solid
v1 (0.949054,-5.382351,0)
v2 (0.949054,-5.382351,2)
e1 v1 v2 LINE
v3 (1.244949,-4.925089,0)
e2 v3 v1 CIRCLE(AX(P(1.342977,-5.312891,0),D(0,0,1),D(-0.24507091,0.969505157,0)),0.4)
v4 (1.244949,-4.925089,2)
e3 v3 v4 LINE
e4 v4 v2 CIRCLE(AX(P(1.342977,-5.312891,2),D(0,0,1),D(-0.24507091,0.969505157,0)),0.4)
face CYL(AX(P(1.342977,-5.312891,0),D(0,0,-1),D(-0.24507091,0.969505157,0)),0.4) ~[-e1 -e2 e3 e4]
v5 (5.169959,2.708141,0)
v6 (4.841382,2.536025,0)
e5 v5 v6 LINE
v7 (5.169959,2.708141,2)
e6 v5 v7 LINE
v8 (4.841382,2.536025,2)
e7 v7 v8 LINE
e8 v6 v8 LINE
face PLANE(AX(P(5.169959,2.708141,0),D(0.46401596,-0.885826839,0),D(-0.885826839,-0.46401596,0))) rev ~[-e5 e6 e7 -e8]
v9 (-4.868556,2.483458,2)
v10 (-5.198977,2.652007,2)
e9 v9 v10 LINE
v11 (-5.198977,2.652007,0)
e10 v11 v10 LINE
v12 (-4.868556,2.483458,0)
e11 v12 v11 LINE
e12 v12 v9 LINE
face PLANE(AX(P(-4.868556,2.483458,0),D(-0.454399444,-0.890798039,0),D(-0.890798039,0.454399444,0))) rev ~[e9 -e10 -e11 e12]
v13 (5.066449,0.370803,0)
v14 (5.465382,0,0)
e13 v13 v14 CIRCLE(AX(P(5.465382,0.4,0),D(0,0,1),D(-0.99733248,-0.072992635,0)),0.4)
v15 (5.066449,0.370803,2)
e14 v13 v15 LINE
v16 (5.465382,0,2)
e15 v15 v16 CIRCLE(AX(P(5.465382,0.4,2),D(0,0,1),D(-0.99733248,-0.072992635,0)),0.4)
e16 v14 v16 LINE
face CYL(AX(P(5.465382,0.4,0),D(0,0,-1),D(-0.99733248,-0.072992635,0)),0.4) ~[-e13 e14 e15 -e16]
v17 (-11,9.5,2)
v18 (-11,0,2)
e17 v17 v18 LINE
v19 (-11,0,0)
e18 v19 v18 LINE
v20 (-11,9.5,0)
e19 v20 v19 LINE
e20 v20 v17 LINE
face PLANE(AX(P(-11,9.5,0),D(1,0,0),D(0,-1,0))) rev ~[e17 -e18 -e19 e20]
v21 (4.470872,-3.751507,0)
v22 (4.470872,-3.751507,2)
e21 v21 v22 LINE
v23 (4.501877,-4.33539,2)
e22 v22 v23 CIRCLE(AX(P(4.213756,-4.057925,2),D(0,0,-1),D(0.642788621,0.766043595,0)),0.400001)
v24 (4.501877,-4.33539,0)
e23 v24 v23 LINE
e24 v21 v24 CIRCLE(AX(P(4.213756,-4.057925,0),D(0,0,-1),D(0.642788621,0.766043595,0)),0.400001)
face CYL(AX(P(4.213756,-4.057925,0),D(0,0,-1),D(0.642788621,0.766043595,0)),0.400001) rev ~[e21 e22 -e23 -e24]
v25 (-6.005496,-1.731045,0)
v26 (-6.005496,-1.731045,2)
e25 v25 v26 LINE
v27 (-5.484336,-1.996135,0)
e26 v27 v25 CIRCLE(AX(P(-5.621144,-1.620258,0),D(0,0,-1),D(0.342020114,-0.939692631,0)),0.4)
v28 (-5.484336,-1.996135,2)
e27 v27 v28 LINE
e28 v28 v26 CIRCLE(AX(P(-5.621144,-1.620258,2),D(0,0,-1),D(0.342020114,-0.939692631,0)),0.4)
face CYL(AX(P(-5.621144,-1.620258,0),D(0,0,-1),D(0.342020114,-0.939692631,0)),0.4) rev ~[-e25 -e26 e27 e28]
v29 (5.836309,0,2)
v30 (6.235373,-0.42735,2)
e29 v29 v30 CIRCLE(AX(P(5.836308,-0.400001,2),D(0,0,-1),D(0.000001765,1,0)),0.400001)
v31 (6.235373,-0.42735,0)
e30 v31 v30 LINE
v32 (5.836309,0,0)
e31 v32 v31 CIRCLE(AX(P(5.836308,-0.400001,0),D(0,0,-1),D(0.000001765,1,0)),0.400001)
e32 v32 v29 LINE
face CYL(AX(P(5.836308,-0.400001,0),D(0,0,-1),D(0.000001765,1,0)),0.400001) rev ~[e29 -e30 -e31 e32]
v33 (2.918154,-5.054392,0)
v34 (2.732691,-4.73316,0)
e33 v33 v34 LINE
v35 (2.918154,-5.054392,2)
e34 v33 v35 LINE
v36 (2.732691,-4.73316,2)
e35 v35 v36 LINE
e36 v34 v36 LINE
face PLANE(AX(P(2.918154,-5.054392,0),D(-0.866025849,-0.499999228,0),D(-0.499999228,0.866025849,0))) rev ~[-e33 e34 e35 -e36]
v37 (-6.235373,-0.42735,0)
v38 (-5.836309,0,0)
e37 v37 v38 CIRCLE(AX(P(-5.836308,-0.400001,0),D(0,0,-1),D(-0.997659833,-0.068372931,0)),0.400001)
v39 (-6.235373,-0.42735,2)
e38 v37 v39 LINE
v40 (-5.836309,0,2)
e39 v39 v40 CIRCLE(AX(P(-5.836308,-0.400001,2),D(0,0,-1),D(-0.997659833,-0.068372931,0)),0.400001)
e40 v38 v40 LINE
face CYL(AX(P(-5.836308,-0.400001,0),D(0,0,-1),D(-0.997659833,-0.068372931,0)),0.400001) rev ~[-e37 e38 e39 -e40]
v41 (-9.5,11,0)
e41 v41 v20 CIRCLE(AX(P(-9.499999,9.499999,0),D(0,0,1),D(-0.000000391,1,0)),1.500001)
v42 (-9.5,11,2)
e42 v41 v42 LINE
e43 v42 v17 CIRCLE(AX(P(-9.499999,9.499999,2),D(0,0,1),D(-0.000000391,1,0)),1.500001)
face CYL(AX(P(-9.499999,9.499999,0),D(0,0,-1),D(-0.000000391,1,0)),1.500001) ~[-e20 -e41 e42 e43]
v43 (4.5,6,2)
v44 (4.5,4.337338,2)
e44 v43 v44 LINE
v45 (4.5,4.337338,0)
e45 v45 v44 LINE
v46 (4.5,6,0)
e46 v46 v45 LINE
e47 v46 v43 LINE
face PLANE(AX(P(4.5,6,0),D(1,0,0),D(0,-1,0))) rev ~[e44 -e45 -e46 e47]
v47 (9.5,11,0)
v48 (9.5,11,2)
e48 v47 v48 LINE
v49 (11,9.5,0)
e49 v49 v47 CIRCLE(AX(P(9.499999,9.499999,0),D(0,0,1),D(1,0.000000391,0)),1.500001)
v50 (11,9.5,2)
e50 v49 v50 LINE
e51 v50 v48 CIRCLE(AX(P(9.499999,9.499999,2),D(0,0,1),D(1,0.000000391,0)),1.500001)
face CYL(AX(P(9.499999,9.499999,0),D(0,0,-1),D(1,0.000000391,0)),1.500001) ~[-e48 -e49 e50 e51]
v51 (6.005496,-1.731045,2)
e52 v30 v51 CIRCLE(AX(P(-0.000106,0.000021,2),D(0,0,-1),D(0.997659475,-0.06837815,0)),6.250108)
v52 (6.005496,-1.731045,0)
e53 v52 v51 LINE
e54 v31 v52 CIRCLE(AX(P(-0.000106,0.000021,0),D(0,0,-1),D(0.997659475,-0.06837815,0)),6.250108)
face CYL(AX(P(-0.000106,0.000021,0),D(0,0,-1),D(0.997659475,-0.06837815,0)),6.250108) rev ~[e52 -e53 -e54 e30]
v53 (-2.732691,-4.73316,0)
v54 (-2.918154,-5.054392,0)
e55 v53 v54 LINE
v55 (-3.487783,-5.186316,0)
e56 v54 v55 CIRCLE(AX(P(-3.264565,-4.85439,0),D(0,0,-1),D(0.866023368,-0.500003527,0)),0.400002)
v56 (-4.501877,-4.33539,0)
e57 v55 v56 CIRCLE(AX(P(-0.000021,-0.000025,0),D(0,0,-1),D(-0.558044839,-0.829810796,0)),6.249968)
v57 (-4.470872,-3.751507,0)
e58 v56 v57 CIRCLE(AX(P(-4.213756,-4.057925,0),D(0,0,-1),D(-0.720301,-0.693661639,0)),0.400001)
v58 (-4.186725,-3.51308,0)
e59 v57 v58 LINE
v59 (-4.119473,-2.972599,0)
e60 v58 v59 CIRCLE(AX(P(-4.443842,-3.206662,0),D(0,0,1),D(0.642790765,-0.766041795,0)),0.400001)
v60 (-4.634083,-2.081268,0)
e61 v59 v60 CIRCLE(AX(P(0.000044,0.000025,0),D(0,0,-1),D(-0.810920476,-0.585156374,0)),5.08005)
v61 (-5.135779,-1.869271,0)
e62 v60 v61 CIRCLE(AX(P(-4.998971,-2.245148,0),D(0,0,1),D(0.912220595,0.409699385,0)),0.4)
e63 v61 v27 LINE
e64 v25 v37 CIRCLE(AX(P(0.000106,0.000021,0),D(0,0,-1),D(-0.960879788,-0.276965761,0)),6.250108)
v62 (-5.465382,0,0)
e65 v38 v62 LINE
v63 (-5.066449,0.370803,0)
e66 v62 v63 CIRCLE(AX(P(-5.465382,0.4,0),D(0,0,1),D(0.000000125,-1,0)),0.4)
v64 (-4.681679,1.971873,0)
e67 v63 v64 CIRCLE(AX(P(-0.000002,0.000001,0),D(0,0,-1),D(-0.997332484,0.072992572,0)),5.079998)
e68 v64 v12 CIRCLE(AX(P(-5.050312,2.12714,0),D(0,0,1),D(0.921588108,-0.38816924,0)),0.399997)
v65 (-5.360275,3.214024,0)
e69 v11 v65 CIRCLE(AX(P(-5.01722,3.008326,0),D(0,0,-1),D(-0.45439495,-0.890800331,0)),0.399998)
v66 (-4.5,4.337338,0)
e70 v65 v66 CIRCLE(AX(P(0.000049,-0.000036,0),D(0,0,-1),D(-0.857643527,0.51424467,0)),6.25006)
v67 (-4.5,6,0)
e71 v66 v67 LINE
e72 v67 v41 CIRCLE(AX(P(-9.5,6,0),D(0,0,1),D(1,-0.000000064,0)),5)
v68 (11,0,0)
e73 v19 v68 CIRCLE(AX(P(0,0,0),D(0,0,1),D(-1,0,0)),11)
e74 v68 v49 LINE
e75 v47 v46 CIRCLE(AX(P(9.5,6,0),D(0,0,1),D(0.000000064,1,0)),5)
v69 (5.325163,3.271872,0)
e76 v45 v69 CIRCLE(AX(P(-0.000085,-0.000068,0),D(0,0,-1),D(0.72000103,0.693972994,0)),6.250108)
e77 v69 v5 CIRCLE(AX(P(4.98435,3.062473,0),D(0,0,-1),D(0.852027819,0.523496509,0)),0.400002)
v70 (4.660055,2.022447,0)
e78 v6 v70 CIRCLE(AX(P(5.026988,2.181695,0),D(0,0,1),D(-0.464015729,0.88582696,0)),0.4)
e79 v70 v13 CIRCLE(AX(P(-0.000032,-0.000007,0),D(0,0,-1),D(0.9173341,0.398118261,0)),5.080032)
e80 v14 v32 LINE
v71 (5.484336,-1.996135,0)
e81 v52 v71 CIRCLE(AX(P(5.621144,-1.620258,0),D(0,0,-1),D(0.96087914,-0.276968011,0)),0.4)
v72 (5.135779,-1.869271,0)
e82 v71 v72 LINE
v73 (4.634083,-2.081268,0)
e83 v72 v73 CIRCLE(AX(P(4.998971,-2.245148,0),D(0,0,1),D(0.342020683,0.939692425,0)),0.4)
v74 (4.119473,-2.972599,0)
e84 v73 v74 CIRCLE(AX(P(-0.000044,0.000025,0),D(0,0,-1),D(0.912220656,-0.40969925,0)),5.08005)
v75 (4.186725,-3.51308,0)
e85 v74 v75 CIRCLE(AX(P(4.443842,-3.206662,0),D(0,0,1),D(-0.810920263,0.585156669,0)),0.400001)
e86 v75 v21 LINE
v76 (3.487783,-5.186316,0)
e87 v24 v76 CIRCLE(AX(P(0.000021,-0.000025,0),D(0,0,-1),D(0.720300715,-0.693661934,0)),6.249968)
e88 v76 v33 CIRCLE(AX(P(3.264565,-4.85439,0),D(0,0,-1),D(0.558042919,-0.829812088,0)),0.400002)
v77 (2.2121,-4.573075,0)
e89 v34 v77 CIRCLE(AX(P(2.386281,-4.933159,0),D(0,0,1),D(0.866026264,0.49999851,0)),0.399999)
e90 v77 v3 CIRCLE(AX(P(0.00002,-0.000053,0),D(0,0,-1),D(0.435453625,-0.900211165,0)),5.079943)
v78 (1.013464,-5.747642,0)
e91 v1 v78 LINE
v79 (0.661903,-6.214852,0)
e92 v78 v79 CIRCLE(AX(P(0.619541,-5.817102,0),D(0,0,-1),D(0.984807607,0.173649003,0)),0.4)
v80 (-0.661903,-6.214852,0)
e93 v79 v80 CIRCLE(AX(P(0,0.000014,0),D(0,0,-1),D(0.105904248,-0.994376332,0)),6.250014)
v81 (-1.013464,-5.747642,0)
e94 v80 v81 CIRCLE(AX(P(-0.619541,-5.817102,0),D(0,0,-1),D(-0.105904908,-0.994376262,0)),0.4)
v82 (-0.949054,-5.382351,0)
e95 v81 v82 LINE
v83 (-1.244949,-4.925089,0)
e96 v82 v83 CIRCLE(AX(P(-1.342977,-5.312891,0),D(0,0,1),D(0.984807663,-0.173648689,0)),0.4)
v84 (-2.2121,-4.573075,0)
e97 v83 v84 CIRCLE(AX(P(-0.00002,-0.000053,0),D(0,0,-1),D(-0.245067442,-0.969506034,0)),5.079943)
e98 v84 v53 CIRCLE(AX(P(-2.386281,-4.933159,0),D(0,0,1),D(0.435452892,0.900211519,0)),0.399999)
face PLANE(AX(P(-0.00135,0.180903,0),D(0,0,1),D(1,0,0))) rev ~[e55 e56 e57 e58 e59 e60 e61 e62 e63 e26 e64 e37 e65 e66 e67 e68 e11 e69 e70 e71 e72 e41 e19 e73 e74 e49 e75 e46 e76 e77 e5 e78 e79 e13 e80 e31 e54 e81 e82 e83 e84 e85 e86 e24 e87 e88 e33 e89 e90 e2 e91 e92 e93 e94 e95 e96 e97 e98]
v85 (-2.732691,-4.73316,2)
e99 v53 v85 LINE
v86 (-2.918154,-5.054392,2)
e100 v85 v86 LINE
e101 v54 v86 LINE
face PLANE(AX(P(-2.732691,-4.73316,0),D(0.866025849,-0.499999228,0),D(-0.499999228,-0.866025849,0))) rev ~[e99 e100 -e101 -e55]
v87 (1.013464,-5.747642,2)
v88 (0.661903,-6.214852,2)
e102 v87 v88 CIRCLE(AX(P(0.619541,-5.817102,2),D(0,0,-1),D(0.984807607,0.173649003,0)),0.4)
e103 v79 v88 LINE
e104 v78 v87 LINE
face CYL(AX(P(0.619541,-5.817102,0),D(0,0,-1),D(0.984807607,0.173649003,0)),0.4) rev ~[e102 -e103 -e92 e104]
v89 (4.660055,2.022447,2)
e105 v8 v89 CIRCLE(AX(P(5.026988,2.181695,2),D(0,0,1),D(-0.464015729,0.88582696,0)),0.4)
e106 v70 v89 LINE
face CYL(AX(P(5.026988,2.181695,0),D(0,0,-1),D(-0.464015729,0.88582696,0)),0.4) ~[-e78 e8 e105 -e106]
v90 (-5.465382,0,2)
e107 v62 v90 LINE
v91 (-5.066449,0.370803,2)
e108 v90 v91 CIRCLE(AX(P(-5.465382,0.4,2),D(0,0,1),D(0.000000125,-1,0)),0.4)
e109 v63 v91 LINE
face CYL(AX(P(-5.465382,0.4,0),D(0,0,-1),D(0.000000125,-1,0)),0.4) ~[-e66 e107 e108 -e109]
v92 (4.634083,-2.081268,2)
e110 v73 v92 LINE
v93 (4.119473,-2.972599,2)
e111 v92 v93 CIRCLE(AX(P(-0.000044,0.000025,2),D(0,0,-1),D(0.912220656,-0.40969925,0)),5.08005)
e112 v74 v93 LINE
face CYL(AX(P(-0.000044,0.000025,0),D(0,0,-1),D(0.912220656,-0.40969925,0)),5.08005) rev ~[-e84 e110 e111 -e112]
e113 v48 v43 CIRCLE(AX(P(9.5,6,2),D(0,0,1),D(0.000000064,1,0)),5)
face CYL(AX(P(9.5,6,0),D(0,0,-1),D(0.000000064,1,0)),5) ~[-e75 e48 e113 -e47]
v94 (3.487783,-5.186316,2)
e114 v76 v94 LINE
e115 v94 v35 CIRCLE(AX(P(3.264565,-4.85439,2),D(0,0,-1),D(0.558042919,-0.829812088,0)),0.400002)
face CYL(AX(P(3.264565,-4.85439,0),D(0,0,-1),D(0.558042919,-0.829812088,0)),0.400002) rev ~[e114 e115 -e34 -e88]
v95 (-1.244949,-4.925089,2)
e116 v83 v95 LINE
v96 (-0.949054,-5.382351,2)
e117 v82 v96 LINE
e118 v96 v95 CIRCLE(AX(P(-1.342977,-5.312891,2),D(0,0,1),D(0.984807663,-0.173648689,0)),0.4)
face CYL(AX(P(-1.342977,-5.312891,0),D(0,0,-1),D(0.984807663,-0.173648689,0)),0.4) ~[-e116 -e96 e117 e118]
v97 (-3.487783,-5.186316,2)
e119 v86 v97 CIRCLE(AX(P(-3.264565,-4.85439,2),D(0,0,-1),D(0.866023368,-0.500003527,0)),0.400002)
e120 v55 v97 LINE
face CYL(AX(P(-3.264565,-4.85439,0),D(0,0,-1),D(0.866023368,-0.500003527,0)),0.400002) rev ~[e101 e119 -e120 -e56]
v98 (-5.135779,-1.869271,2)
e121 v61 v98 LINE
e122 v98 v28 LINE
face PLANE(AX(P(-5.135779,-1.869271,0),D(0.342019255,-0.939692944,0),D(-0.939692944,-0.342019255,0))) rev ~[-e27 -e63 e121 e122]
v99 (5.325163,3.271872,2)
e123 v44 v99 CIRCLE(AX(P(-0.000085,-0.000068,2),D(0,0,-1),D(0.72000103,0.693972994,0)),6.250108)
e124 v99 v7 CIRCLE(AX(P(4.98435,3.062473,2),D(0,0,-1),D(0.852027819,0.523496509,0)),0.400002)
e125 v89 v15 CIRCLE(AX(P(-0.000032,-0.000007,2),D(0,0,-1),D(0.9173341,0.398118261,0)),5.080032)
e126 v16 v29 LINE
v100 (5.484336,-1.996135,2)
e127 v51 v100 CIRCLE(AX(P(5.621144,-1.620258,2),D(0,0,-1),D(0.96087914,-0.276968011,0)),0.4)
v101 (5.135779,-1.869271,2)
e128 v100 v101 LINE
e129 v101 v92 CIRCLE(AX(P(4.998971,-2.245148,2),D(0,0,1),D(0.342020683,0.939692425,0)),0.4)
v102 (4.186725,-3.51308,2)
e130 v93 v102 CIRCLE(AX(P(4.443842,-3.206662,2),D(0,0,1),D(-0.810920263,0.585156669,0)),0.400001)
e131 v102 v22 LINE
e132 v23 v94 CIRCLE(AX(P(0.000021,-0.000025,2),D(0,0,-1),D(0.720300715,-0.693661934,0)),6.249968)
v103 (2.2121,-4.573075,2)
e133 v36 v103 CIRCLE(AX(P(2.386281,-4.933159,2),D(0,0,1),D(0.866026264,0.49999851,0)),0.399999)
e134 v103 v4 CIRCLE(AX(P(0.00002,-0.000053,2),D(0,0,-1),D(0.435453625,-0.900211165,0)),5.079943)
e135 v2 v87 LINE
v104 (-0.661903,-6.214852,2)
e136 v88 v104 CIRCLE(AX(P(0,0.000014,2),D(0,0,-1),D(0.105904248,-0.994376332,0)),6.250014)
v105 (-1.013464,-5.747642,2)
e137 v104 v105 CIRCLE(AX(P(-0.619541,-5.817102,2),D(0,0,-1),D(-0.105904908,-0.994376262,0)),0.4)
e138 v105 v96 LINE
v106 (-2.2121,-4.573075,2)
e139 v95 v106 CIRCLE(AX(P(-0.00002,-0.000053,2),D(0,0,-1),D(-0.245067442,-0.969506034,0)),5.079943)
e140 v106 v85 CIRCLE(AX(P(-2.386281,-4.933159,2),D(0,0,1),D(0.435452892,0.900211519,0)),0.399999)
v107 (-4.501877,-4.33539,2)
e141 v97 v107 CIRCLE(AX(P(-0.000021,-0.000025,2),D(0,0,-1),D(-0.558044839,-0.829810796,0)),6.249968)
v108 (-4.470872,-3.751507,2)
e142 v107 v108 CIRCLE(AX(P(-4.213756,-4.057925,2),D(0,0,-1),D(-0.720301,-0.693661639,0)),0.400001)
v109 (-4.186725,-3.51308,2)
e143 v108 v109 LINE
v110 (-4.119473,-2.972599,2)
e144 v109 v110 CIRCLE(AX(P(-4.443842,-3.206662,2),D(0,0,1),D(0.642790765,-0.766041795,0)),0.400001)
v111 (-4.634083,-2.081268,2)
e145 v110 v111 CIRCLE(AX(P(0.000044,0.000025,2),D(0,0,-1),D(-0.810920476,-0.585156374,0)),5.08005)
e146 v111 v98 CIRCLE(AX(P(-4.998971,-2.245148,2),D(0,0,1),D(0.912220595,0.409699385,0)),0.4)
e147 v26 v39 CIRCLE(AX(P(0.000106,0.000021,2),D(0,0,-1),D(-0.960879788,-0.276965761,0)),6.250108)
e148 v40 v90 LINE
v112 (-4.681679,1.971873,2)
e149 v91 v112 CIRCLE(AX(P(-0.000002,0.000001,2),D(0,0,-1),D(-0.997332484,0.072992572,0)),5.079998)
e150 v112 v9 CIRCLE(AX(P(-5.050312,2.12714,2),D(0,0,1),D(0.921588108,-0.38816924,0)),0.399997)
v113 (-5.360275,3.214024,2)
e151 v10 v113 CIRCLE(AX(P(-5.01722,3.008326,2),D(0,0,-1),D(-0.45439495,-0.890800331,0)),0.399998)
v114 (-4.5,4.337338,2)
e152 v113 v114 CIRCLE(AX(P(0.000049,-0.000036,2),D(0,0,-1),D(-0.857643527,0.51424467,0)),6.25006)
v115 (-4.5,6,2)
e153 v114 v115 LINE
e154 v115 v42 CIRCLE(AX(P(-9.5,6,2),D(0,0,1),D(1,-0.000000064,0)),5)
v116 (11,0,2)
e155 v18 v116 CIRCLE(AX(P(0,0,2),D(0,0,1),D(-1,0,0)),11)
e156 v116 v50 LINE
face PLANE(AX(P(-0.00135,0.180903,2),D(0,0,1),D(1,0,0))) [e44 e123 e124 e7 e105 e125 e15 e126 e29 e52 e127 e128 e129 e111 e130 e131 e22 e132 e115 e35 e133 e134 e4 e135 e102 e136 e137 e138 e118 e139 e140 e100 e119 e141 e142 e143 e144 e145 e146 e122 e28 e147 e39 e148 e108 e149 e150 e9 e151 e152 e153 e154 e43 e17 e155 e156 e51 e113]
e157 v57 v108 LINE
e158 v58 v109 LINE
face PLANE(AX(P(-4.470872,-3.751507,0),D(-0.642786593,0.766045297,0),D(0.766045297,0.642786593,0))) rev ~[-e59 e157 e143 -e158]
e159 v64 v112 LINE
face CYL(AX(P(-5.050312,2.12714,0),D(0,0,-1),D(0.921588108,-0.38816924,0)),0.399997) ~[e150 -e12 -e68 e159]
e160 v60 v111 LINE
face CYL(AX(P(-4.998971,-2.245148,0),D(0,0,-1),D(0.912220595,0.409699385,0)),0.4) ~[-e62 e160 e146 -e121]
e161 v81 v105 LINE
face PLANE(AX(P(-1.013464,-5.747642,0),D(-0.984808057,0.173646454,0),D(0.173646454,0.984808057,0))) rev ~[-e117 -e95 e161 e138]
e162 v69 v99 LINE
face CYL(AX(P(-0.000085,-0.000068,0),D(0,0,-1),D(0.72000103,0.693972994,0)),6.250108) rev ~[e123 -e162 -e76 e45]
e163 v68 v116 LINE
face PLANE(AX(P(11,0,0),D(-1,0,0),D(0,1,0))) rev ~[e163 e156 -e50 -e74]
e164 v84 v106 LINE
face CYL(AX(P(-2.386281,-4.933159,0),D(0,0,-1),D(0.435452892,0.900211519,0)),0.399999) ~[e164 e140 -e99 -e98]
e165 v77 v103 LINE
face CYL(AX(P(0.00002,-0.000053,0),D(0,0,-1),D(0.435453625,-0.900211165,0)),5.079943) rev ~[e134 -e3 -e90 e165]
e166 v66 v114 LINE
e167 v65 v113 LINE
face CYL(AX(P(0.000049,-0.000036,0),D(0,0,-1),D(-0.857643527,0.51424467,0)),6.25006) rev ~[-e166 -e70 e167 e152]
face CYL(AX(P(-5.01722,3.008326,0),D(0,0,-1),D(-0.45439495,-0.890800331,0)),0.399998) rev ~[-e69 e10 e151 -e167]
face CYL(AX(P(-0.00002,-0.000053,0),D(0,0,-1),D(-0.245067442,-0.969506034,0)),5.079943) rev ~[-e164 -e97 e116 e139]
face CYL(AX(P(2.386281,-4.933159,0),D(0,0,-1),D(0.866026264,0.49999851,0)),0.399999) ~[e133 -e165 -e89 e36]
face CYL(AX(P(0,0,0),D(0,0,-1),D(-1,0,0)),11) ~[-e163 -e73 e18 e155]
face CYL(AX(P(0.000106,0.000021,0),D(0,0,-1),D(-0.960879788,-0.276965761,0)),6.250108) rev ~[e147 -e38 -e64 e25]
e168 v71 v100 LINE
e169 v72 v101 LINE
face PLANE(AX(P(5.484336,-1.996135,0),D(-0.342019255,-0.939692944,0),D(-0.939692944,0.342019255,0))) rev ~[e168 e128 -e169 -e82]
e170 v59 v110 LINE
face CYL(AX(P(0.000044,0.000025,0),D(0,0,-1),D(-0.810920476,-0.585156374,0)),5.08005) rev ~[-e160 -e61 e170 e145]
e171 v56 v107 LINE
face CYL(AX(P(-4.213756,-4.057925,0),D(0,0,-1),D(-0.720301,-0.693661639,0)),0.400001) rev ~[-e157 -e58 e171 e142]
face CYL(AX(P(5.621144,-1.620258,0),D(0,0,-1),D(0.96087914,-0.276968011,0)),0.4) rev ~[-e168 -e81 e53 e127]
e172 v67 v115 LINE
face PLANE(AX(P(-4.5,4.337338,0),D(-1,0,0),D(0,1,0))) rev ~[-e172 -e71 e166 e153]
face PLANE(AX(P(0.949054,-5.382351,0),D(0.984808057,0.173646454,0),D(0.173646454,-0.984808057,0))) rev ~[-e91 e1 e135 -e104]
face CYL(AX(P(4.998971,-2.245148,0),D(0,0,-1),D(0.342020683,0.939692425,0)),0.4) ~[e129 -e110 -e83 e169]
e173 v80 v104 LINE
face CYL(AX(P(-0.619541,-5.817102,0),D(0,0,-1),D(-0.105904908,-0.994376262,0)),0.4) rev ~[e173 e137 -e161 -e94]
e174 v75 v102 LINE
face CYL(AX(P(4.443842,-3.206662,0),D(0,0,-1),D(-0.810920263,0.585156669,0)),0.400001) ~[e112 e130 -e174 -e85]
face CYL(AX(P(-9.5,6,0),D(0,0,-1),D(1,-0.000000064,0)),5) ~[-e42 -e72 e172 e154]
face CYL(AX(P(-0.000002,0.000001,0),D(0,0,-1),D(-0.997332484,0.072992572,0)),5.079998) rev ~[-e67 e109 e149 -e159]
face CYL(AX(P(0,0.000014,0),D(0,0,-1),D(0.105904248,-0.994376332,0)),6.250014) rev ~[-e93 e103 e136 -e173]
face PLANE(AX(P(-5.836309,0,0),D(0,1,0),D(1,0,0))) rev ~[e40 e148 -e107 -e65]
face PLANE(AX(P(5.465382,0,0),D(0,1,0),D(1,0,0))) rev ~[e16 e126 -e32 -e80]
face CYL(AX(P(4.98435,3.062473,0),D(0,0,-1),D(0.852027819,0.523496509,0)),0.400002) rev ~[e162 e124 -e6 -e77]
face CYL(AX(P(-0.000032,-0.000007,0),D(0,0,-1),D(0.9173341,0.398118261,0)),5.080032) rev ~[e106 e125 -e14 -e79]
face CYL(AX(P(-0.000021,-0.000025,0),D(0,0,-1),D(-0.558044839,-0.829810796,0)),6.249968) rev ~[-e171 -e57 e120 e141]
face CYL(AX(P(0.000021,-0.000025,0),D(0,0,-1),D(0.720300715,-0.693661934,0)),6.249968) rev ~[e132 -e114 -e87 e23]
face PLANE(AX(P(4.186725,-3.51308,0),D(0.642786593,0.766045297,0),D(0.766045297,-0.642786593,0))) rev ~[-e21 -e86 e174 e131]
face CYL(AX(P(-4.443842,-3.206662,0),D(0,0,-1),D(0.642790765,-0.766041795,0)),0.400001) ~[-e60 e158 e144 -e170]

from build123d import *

# Parameters (mm, degrees)
F1_DEPTH = 2


with BuildPart() as f1:
    # F0 (on Top) → F1 (new body)
    with BuildSketch(Plane.XY):
        with BuildLine():
            ThreePointArc((-5.066449, 0.370803), (-4.939368, 1.187032), (-4.681679, 1.971873))
            ThreePointArc((-4.681679, 1.971873), (-4.674597, 2.264385), (-4.868556, 2.483458))
            Line((-4.868556, 2.483458), (-5.198977, 2.652007))
            ThreePointArc((-5.198977, 2.652007), (-5.401697, 2.897981), (-5.360275, 3.214024))
            ThreePointArc((-5.360275, 3.214024), (-4.962027, 3.800103), (-4.5, 4.337338))
            Line((-4.5, 4.337338), (-4.5, 6))
            ThreePointArc((-4.5, 6), (-5.964466, 9.535534), (-9.5, 11))
            ThreePointArc((-9.5, 11), (-10.56066, 10.56066), (-11, 9.5))
            Line((-11, 9.5), (-11, 0))
            ThreePointArc((-11, 0), (0, -11), (11, 0))
            Line((11, 0), (11, 9.5))
            ThreePointArc((11, 9.5), (10.56066, 10.56066), (9.5, 11))
            ThreePointArc((9.5, 11), (5.964466, 9.535534), (4.5, 6))
            Line((4.5, 6), (4.5, 4.337338))
            ThreePointArc((4.5, 4.337338), (4.941382, 3.82691), (5.325163, 3.271872))
            ThreePointArc((5.325163, 3.271872), (5.370003, 2.956296), (5.169959, 2.708141))
            Line((5.169959, 2.708141), (4.841382, 2.536025))
            ThreePointArc((4.841382, 2.536025), (4.649807, 2.314864), (4.660055, 2.022447))
            ThreePointArc((4.660055, 2.022447), (4.932869, 1.213755), (5.066449, 0.370803))
            ThreePointArc((5.066449, 0.370803), (5.193058, 0.107016), (5.465382, 0))
            Line((5.465382, 0), (5.836309, 0))
            ThreePointArc((5.836309, 0), (6.128661, -0.126998), (6.235373, -0.42735))
            ThreePointArc((6.235373, -0.42735), (6.155048, -1.085301), (6.005496, -1.731045))
            ThreePointArc((6.005496, -1.731045), (5.802494, -1.976786), (5.484336, -1.996135))
            Line((5.484336, -1.996135), (5.135779, -1.869271))
            ThreePointArc((5.135779, -1.869271), (4.843276, -1.876693), (4.634083, -2.081268))
            ThreePointArc((4.634083, -2.081268), (4.399409, -2.54), (4.119473, -2.972599))
            ThreePointArc((4.119473, -2.972599), (4.046902, -3.256054), (4.186725, -3.51308))
            Line((4.186725, -3.51308), (4.470872, -3.751507))
            ThreePointArc((4.470872, -3.751507), (4.613194, -4.036714), (4.501877, -4.33539))
            ThreePointArc((4.501877, -4.33539), (4.017423, -4.787778), (3.487783, -5.186316))
            ThreePointArc((3.487783, -5.186316), (3.174314, -5.244077), (2.918154, -5.054392))
            Line((2.918154, -5.054392), (2.732691, -4.73316))
            ThreePointArc((2.732691, -4.73316), (2.50385, -4.550828), (2.2121, -4.573075))
            ThreePointArc((2.2121, -4.573075), (1.737462, -4.773639), (1.244949, -4.925089))
            ThreePointArc((1.244949, -4.925089), (1.007156, -5.09558), (0.949054, -5.382351))
            Line((0.949054, -5.382351), (1.013464, -5.747642))
            ThreePointArc((1.013464, -5.747642), (0.939162, -6.057606), (0.661903, -6.214852))
            ThreePointArc((0.661903, -6.214852), (0, -6.25), (-0.661903, -6.214852))
            ThreePointArc((-0.661903, -6.214852), (-0.939162, -6.057606), (-1.013464, -5.747642))
            Line((-1.013464, -5.747642), (-0.949054, -5.382351))
            ThreePointArc((-0.949054, -5.382351), (-1.007156, -5.09558), (-1.244949, -4.925089))
            ThreePointArc((-1.244949, -4.925089), (-1.737462, -4.773639), (-2.2121, -4.573075))
            ThreePointArc((-2.2121, -4.573075), (-2.50385, -4.550828), (-2.732691, -4.73316))
            Line((-2.732691, -4.73316), (-2.918154, -5.054392))
            ThreePointArc((-2.918154, -5.054392), (-3.174314, -5.244077), (-3.487783, -5.186316))
            ThreePointArc((-3.487783, -5.186316), (-4.017423, -4.787778), (-4.501877, -4.33539))
            ThreePointArc((-4.501877, -4.33539), (-4.613194, -4.036714), (-4.470872, -3.751507))
            Line((-4.470872, -3.751507), (-4.186725, -3.51308))
            ThreePointArc((-4.186725, -3.51308), (-4.046902, -3.256054), (-4.119473, -2.972599))
            ThreePointArc((-4.119473, -2.972599), (-4.399409, -2.54), (-4.634083, -2.081268))
            ThreePointArc((-4.634083, -2.081268), (-4.843276, -1.876693), (-5.135779, -1.869271))
            Line((-5.135779, -1.869271), (-5.484336, -1.996135))
            ThreePointArc((-5.484336, -1.996135), (-5.802494, -1.976786), (-6.005496, -1.731045))
            ThreePointArc((-6.005496, -1.731045), (-6.155048, -1.085301), (-6.235373, -0.42735))
            ThreePointArc((-6.235373, -0.42735), (-6.128661, -0.126998), (-5.836309, 0))
            Line((-5.836309, 0), (-5.465382, 0))
            ThreePointArc((-5.465382, 0), (-5.193058, 0.107016), (-5.066449, 0.370803))
        make_face()
    extrude(amount=F1_DEPTH)


solid = f1.part
